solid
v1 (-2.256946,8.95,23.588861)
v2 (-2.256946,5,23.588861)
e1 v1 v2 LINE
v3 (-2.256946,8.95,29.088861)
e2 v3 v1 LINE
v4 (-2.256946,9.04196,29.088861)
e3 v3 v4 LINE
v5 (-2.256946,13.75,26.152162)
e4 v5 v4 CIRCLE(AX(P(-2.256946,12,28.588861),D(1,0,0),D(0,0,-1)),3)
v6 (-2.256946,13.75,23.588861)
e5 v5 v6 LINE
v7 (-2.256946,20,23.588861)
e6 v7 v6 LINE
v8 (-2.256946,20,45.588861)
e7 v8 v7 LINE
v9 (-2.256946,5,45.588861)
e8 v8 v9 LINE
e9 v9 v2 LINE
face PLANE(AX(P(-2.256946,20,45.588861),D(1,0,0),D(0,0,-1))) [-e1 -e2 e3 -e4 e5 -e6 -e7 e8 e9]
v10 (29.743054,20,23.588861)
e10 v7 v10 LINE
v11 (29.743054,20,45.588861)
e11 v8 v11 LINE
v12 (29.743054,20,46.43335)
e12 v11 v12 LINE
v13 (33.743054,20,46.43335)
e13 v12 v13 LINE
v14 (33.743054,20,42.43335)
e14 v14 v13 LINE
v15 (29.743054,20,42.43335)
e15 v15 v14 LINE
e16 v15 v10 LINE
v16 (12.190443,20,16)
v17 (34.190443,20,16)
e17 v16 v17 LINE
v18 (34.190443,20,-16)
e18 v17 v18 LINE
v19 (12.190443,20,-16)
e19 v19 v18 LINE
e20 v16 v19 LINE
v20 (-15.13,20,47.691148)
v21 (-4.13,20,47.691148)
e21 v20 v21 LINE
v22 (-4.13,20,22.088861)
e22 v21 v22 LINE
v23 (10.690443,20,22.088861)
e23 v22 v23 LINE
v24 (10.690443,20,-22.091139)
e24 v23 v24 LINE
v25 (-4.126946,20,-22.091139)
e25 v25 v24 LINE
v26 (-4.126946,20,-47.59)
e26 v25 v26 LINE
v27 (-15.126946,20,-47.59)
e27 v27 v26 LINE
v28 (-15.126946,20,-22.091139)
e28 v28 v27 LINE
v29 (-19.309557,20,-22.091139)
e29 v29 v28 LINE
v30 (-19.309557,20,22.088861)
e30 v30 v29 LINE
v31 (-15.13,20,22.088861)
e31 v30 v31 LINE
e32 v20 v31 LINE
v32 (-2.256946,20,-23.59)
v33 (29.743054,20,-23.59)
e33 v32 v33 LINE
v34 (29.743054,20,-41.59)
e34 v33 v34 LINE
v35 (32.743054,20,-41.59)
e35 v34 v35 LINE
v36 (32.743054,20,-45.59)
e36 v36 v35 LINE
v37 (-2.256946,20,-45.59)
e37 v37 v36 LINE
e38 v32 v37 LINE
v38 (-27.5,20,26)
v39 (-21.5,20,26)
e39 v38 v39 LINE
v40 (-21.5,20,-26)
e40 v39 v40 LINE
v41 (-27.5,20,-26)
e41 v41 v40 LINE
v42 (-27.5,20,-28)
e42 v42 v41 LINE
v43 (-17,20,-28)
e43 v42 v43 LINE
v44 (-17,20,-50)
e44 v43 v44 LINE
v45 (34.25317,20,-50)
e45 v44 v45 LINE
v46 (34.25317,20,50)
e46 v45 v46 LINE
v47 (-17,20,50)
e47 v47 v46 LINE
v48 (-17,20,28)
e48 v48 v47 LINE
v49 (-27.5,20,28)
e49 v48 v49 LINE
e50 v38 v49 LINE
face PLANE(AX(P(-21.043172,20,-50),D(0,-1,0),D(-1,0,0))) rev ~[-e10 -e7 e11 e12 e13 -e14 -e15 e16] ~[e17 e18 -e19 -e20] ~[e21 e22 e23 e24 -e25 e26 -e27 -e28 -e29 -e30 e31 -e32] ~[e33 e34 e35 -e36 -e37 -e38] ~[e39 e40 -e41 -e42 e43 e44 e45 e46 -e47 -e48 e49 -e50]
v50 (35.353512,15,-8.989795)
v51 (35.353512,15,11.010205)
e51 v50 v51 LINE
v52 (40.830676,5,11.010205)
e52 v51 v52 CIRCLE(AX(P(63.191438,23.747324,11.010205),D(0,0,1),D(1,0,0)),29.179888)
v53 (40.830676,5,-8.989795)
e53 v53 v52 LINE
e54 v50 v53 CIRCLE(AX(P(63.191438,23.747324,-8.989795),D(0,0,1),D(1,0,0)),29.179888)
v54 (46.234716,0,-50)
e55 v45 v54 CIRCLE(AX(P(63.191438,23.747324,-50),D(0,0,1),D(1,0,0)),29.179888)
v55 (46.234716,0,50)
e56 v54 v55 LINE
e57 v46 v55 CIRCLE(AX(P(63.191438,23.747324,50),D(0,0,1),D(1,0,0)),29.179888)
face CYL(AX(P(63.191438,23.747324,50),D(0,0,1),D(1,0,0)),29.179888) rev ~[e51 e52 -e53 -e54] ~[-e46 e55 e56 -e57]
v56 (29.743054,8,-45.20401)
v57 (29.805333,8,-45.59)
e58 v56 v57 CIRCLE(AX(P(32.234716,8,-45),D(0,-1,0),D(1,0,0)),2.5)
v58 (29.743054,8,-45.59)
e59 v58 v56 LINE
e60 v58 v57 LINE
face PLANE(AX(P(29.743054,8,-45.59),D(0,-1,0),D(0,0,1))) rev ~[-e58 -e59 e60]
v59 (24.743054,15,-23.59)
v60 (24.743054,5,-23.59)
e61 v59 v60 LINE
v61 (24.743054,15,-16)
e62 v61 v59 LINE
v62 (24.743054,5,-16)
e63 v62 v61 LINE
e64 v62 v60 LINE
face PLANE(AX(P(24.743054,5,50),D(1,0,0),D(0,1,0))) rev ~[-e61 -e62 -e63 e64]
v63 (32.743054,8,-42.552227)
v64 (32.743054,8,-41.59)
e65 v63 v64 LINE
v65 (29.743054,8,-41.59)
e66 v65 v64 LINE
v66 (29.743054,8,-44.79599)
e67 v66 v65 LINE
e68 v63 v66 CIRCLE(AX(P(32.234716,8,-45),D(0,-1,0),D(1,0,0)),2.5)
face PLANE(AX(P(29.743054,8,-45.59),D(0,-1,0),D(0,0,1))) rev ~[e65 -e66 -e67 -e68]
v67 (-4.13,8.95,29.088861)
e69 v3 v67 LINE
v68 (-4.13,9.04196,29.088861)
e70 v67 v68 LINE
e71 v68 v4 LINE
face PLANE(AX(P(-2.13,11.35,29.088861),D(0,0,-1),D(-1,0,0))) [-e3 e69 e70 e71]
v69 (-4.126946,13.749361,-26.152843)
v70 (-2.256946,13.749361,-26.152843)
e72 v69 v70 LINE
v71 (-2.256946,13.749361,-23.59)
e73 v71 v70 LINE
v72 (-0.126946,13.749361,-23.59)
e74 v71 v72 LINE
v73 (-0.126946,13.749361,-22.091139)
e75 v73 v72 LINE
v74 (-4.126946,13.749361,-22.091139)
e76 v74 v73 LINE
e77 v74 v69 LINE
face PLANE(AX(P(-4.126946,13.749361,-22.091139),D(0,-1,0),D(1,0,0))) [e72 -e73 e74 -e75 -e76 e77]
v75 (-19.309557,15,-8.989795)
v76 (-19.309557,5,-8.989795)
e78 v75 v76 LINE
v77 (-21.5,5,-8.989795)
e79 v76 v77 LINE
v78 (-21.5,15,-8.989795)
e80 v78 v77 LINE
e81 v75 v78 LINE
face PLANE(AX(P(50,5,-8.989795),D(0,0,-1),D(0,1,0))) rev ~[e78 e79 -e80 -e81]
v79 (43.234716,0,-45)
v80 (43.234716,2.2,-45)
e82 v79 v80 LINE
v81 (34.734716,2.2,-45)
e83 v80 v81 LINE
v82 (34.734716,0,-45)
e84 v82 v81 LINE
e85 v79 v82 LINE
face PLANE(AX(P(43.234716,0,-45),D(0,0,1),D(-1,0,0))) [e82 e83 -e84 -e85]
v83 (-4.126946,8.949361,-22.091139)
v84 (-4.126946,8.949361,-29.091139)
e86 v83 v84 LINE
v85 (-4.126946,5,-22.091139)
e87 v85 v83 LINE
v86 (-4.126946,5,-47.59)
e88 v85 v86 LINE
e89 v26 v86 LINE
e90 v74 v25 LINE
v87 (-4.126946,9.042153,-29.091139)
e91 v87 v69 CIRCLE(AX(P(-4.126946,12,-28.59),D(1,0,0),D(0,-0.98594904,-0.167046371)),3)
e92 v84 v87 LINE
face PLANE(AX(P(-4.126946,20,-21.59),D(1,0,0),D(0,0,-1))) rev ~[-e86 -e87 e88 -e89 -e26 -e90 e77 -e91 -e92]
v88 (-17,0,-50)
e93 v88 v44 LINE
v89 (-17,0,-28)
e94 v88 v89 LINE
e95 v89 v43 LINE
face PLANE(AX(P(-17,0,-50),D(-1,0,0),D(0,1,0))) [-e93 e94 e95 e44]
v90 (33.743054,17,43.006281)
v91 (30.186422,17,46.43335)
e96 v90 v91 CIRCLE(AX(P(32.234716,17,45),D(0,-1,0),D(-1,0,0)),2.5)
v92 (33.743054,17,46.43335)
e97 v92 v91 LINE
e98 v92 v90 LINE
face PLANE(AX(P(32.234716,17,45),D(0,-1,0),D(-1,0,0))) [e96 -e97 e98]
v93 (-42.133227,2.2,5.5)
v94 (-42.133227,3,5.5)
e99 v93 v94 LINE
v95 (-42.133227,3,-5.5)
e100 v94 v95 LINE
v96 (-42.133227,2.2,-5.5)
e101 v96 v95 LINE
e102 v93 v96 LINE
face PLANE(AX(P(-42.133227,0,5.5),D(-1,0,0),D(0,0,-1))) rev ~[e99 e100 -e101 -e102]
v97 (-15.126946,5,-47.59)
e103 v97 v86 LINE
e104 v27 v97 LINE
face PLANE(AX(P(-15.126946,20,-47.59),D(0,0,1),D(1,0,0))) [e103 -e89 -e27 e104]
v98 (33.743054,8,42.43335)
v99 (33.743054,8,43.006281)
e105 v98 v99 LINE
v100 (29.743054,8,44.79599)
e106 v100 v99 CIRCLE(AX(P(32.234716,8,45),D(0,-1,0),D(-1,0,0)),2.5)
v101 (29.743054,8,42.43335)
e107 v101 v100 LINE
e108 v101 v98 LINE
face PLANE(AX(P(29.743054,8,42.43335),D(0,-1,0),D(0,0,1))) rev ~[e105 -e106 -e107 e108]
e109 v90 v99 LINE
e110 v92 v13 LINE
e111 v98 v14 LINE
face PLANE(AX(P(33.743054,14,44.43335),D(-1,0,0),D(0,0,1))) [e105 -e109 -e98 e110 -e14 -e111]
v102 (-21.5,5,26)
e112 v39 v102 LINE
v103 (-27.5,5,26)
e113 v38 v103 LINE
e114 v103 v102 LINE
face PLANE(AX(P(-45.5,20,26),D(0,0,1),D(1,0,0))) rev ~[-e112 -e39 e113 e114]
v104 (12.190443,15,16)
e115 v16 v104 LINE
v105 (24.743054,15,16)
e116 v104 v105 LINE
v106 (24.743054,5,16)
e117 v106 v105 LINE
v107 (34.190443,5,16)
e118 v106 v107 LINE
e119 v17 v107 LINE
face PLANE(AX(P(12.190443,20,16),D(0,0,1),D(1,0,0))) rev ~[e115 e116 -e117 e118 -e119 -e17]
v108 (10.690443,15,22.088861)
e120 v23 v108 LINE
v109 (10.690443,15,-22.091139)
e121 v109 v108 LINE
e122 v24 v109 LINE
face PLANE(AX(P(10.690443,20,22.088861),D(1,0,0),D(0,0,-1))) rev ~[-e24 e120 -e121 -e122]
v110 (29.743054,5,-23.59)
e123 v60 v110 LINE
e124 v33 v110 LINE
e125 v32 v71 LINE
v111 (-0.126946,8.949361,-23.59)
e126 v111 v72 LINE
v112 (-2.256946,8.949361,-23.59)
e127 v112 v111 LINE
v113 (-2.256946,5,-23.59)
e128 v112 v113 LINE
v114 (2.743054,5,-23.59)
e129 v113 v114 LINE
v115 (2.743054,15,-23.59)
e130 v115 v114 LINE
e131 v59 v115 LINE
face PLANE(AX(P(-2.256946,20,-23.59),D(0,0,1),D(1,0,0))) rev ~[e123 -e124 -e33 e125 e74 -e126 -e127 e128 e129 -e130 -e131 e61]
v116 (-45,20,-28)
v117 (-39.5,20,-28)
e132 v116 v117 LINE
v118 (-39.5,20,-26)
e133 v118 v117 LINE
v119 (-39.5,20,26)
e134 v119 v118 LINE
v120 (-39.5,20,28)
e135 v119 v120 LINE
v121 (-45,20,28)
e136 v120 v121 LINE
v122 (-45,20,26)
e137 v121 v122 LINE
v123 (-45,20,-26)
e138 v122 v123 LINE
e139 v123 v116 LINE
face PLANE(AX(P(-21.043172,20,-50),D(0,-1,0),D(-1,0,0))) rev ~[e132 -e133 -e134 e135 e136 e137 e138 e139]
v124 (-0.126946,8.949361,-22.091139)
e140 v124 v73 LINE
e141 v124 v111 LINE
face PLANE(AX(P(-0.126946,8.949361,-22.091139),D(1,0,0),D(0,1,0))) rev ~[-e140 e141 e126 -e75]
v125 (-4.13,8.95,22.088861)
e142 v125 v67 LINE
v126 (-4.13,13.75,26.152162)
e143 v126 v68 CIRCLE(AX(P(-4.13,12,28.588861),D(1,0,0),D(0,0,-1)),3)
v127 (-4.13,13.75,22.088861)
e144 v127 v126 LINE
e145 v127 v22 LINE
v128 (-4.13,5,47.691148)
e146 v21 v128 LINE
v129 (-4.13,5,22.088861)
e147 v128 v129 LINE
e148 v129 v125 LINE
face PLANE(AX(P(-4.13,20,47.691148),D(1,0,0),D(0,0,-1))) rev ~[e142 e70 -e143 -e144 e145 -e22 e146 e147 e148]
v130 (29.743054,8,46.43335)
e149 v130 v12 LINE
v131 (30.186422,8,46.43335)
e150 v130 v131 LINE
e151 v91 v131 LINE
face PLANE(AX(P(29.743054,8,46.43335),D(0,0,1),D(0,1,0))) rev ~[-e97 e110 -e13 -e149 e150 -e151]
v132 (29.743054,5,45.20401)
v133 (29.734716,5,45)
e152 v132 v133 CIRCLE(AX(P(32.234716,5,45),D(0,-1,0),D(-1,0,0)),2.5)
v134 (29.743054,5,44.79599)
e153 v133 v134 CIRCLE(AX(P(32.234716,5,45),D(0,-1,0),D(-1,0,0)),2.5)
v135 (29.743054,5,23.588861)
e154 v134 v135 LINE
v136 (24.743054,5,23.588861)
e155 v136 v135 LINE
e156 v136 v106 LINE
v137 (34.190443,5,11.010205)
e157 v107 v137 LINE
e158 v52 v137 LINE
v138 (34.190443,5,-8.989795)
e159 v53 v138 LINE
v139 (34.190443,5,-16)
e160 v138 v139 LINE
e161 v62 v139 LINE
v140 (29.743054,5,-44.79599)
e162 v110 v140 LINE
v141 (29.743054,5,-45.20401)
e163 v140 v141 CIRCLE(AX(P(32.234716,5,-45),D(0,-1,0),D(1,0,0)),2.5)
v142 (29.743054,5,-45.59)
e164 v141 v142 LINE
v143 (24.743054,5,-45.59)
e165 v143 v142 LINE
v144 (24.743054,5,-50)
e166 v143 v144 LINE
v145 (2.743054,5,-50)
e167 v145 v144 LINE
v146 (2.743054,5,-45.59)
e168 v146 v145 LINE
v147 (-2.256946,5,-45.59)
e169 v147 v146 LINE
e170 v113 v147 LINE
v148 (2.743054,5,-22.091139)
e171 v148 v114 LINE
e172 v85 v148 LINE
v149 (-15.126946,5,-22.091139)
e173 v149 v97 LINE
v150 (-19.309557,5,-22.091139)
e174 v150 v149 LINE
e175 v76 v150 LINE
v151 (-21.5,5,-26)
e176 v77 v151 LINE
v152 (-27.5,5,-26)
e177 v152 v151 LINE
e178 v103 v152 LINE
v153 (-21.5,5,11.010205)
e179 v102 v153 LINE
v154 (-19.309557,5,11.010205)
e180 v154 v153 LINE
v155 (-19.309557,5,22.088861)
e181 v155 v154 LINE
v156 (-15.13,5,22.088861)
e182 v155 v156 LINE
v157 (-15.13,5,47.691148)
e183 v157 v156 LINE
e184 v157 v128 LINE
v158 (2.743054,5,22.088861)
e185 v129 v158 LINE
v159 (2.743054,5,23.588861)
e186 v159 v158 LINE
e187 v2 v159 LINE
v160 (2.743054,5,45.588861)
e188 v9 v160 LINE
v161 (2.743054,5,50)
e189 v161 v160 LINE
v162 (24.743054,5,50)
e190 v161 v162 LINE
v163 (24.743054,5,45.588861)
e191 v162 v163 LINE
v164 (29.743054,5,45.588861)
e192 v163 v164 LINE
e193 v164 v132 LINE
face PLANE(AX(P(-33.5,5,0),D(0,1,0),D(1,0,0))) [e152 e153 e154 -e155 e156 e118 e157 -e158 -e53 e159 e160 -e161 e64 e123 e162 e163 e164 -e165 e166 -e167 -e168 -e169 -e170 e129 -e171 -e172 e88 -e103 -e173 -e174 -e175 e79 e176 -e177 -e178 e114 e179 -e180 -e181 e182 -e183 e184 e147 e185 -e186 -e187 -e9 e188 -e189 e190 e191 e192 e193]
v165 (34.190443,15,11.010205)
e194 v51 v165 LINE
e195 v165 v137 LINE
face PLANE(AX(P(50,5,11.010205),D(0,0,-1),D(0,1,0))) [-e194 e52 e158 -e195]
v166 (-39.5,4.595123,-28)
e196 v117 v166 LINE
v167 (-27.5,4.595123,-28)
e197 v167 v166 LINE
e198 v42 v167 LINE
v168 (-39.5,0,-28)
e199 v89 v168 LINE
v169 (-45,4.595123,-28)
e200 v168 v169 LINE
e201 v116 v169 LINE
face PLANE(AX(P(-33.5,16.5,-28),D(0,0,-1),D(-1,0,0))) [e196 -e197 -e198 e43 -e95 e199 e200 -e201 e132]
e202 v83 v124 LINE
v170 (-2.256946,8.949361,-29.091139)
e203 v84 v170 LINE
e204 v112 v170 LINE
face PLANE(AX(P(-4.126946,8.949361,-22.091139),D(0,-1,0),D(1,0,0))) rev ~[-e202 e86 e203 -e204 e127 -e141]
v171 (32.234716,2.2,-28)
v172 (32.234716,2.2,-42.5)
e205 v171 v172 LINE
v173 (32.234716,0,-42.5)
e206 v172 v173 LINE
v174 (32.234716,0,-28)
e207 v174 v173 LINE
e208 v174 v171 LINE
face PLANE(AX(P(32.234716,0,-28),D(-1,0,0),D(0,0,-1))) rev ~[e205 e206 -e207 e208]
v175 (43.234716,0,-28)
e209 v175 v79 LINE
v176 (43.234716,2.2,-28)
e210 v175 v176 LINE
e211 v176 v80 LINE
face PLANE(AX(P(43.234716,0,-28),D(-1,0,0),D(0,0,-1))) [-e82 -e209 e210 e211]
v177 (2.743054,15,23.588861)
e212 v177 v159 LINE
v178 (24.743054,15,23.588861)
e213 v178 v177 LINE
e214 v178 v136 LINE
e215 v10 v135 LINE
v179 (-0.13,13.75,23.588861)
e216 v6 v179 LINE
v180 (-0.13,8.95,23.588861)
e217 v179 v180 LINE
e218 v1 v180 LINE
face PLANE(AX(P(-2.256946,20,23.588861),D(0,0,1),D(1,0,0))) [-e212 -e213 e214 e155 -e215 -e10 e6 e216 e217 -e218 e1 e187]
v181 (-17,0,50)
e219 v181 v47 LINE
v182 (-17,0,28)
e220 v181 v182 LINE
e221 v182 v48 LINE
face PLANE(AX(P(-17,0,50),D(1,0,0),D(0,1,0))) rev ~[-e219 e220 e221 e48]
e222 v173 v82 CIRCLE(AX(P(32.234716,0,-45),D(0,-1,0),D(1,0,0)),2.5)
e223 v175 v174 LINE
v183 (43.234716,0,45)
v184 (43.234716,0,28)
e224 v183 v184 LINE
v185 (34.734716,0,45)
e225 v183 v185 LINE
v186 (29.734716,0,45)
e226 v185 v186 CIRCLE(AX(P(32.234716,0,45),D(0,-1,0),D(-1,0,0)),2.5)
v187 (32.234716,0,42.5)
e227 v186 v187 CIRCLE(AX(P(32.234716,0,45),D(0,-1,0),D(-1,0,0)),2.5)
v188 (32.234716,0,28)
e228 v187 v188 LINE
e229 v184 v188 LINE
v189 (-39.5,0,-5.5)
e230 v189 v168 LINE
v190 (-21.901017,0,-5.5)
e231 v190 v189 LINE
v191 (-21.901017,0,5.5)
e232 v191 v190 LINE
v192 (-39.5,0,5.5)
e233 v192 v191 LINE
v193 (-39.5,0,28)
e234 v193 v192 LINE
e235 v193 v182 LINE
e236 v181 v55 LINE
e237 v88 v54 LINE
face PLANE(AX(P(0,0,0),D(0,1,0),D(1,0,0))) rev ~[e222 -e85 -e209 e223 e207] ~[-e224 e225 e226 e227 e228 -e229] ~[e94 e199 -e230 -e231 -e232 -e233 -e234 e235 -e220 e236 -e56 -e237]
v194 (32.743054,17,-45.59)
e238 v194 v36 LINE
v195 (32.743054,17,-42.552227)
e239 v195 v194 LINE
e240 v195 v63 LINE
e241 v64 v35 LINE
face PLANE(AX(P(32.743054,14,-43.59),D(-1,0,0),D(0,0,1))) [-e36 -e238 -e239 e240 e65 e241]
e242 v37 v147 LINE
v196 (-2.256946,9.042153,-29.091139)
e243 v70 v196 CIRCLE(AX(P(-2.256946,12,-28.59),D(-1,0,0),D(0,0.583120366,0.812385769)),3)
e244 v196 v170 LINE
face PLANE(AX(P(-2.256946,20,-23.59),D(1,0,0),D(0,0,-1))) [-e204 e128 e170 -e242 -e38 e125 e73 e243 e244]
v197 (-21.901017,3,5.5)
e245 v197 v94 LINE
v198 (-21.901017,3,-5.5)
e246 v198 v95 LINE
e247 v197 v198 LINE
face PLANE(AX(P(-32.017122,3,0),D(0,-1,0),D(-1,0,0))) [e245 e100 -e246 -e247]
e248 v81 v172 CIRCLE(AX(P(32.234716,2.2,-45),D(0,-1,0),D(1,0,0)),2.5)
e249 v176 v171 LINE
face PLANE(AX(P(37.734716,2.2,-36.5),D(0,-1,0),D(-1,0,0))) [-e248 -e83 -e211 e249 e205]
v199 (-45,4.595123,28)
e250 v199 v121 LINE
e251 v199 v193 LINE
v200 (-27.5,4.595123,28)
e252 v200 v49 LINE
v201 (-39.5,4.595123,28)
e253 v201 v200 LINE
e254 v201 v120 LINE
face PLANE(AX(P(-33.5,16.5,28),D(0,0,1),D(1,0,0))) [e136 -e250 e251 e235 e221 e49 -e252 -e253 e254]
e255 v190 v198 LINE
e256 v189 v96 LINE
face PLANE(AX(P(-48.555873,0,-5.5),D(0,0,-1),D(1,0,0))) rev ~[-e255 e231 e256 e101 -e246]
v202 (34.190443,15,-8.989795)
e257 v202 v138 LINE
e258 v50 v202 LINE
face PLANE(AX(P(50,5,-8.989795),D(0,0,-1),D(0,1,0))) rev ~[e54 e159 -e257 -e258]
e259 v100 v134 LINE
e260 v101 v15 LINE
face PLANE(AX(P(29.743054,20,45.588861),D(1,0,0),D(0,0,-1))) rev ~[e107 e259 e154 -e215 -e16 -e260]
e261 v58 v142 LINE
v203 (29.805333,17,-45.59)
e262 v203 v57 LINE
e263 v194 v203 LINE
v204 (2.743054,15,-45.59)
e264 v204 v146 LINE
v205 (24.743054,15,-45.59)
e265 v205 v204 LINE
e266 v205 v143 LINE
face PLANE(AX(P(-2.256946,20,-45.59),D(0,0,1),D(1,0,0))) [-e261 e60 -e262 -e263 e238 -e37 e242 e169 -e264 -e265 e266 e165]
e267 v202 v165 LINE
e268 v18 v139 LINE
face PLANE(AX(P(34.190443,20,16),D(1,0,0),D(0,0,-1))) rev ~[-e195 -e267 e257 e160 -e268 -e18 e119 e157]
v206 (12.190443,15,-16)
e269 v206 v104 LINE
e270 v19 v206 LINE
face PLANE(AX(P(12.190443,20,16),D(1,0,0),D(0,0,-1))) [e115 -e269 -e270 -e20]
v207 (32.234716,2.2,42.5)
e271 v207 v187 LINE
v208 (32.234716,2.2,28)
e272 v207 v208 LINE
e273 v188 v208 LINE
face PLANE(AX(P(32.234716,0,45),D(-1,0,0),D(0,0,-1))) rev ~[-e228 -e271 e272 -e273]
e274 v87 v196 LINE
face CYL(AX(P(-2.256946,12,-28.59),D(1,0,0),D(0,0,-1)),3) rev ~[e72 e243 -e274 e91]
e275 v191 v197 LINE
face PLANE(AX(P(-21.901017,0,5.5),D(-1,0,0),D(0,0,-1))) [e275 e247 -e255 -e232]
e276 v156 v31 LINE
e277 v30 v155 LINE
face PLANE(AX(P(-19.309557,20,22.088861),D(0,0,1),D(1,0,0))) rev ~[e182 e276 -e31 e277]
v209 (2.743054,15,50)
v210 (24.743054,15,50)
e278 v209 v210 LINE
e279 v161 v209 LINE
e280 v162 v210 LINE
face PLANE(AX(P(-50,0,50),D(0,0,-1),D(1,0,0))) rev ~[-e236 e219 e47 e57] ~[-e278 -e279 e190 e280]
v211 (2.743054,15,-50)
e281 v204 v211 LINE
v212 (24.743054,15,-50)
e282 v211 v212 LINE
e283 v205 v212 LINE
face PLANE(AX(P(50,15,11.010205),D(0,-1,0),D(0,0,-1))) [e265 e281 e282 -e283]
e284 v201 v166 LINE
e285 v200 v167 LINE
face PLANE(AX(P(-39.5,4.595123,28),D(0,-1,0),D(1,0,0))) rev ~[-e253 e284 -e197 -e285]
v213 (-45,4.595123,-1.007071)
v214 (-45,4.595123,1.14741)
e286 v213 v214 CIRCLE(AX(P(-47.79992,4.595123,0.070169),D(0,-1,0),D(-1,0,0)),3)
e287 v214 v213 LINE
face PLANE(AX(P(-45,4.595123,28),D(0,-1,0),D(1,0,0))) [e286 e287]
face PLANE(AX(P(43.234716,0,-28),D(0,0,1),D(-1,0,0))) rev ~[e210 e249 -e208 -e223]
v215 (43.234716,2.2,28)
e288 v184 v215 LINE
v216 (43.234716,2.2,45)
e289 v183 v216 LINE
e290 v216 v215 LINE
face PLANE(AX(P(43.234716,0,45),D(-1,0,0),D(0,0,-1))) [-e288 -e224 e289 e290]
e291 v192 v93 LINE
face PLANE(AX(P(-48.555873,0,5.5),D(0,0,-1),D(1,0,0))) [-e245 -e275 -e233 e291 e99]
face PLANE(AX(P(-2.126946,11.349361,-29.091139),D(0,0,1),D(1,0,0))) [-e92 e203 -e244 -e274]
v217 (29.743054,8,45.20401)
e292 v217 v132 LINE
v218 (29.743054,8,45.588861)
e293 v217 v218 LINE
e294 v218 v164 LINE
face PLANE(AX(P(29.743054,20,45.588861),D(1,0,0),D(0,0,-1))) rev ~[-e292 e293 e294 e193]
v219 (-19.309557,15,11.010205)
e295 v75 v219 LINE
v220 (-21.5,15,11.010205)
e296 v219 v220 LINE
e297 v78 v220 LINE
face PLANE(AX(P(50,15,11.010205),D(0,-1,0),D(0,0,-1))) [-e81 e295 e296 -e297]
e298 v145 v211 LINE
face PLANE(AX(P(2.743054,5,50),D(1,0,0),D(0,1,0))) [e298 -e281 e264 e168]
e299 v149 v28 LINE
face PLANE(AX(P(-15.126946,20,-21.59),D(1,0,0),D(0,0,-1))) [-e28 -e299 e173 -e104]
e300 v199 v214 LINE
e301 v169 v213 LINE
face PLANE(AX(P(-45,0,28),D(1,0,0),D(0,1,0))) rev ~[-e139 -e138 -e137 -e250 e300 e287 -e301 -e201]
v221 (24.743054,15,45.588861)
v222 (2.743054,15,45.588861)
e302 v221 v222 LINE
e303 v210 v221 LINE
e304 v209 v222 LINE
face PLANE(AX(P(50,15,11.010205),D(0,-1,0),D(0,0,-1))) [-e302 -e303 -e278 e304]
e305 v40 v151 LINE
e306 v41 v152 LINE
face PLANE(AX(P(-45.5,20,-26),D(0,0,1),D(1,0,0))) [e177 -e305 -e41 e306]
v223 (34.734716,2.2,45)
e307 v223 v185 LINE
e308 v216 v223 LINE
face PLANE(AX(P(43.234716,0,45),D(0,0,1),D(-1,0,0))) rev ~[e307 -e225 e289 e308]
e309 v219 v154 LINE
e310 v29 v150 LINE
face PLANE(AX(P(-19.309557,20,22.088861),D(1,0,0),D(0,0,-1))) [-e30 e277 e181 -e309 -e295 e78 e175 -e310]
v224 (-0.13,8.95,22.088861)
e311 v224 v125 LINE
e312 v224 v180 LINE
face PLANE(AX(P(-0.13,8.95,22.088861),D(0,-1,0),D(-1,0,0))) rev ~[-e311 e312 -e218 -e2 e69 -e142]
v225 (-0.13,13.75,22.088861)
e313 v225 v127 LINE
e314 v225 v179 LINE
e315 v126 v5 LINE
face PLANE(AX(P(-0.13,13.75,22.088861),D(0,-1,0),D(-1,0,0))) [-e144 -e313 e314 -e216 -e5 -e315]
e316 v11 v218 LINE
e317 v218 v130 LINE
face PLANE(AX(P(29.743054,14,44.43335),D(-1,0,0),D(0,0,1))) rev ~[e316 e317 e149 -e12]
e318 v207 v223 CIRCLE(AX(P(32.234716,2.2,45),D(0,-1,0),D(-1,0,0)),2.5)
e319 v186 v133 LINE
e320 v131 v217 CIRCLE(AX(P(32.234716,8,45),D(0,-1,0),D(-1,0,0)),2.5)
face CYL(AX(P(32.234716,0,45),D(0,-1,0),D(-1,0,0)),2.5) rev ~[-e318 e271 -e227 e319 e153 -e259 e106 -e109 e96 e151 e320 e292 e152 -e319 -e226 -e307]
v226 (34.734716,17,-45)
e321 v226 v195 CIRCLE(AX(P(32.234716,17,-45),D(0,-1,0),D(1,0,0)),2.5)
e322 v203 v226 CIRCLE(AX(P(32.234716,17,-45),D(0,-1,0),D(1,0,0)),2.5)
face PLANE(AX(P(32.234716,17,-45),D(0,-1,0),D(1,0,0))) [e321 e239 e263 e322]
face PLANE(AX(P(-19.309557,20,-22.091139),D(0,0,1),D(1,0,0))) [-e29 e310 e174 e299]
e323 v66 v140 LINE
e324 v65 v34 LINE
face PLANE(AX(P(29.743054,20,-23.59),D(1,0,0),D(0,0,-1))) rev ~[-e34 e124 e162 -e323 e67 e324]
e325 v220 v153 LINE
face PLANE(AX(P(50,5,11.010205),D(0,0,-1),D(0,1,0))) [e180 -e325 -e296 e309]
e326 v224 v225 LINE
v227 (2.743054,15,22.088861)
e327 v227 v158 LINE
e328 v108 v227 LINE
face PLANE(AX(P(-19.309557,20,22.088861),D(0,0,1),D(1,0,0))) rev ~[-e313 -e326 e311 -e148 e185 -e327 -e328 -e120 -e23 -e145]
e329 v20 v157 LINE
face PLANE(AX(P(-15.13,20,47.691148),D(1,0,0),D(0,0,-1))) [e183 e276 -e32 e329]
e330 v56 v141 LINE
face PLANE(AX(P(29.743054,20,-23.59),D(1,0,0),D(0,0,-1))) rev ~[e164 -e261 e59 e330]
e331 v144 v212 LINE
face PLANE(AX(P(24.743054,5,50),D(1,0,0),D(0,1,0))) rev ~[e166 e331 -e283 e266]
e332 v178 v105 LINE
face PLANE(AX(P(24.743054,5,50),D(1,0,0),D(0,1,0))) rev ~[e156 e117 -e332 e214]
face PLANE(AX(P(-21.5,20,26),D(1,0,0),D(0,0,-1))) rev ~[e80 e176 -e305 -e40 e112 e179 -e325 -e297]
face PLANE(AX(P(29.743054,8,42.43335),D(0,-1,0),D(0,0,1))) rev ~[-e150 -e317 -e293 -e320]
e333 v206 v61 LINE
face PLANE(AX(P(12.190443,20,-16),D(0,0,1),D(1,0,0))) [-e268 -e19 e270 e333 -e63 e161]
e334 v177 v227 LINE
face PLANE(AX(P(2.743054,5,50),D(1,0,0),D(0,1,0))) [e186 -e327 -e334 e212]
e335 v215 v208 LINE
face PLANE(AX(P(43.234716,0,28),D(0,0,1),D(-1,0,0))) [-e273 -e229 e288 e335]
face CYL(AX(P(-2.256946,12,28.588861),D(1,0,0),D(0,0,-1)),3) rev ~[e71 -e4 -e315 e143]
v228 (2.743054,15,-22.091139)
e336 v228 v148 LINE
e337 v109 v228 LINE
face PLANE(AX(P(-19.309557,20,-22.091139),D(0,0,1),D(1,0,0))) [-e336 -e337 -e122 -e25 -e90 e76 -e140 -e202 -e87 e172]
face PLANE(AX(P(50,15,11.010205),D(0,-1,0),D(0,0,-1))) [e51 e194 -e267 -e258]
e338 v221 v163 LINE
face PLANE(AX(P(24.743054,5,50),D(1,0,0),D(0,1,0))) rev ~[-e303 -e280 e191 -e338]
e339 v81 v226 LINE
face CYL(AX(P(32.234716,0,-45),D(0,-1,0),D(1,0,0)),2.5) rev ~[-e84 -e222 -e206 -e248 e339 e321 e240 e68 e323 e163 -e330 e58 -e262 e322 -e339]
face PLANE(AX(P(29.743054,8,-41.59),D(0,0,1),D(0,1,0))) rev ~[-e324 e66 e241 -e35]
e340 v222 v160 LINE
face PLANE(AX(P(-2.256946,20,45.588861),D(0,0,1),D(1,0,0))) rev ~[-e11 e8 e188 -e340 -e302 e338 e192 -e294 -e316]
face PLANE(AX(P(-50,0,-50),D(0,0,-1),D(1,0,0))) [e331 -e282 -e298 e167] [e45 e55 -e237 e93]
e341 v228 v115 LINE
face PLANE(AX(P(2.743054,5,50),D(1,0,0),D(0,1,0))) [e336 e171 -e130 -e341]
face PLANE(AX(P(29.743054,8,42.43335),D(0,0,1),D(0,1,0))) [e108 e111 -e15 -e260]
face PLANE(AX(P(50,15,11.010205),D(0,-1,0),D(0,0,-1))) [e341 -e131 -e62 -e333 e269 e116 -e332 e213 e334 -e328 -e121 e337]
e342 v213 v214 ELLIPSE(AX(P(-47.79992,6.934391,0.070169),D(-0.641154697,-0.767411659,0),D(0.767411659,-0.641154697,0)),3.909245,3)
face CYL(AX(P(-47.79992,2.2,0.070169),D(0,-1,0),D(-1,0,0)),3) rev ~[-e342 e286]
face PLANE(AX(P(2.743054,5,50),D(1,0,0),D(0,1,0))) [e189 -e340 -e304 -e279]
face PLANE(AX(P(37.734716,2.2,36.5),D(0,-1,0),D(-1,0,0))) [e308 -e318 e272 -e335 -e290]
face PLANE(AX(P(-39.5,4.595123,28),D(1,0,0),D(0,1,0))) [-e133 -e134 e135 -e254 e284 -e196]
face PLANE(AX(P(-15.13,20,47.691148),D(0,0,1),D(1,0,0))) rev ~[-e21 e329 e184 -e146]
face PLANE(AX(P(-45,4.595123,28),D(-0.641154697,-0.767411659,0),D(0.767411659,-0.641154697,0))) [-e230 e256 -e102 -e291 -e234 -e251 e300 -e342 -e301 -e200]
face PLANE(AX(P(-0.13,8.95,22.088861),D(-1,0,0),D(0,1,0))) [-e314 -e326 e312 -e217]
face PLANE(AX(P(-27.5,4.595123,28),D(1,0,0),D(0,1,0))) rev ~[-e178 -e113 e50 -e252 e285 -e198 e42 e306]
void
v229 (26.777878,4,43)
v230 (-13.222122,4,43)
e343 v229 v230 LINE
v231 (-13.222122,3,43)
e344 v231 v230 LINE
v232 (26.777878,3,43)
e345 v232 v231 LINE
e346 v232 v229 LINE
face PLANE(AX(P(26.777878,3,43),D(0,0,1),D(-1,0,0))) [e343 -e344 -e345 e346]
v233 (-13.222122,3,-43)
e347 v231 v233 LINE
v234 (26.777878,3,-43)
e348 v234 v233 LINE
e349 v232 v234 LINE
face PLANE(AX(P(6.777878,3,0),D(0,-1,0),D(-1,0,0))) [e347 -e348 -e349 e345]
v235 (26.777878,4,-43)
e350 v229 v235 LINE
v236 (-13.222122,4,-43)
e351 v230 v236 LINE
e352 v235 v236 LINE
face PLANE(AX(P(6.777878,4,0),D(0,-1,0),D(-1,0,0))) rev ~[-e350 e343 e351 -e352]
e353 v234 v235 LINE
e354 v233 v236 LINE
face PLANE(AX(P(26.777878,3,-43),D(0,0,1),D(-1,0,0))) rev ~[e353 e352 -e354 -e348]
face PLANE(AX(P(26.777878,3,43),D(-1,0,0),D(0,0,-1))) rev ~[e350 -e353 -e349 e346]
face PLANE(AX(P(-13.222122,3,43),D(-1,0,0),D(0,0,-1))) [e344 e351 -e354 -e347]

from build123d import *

# Parameters (mm, degrees)
SKETCH1_W           = 100
SKETCH1_H           = 100
BOSS_EXTRUDE2_DEPTH = 40
SKETCH3_W           = 20
SKETCH3_H           = 10
CUT_EXTRUDE3_DEPTH  = 100
SKETCH4_R           = 29.179887526
CUT_EXTRUDE5_DEPTH  = 100
SKETCH5_W           = 60
SKETCH5_H           = 20
CUT_EXTRUDE6_DEPTH  = 100
SKETCH6_W           = 22
SKETCH6_H           = 32
CUT_EXTRUDE7_DEPTH  = 15
SKETCH7_W           = 22
SKETCH7_H           = 10
CUT_EXTRUDE9_DEPTH  = 100
SKETCH9_W           = 32
SKETCH9_H           = 22
CUT_EXTRUDE10_DEPTH = 15
SKETCH10_W          = 32
SKETCH10_H          = 22
CUT_EXTRUDE11_DEPTH = 15
SKETCH11_W          = 33
SKETCH11_H          = 33
CUT_EXTRUDE13_DEPTH = 22
SKETCH12_W          = 33
SKETCH12_H          = 33
CUT_EXTRUDE14_DEPTH = 22
SKETCH13_W          = 30
SKETCH13_H          = 20
CUT_EXTRUDE15_DEPTH = 100
SKETCH14_W          = 12
SKETCH14_H          = 16
CUT_EXTRUDE17_DEPTH = 80
SKETCH15_W          = 24
SKETCH15_H          = 52
CUT_EXTRUDE18_DEPTH = 15
SKETCH16_W          = 30
SKETCH16_H          = 44.18
CUT_EXTRUDE19_DEPTH = 15
SKETCH17_W          = 11
SKETCH17_H          = 26
CUT_EXTRUDE20_DEPTH = 15
SKETCH18_W          = 11
SKETCH18_H          = 26
CUT_EXTRUDE22_DEPTH = 15
SKETCH19_W          = 11
SKETCH19_H          = 17
CUT_EXTRUDE26_DEPTH = 2.2
SKETCH20_R          = 2.5
CUT_EXTRUDE32_DEPTH = 17
SKETCH21_W          = 4
SKETCH21_H          = 12
CUT_EXTRUDE33_DEPTH = 4
SKETCH23_W          = 11
SKETCH23_H          = 17
CUT_EXTRUDE34_DEPTH = 2.2
SKETCH24_R          = 2.5
CUT_EXTRUDE35_DEPTH = 17
SKETCH25_W          = 4
SKETCH25_H          = 12
CUT_EXTRUDE36_DEPTH = 3
SKETCH26_R          = 3
CUT_EXTRUDE37_DEPTH = 3
SKETCH27_R          = 3
CUT_EXTRUDE38_DEPTH = 3
SKETCH28_W          = 17
SKETCH28_H          = 11
CUT_EXTRUDE39_DEPTH = 2.2
SKETCH29_R          = 3
CUT_EXTRUDE40_DEPTH = 4
SKETCH30_W          = 4
SKETCH30_H          = 4.8
CUT_EXTRUDE43_DEPTH = 7
SKETCH31_W          = 4
SKETCH31_H          = 4.8
CUT_EXTRUDE44_DEPTH = 7
CUT_EXTRUDE45_DEPTH = 100
SKETCH34_W          = 5
SKETCH34_H          = 20
CUT_EXTRUDE46_DEPTH = 100
CUT_EXTRUDE47_DEPTH = 100
SKETCH36_W          = 5.5
SKETCH36_H          = 15.404877169
BOSS_EXTRUDE3_DEPTH = 55
SKETCH37_W          = 20.232210009
SKETCH37_H          = 11
CUT_EXTRUDE48_DEPTH = 3
SKETCH38_W          = 40
SKETCH38_H          = 86
CUT_EXTRUDE53_DEPTH = 1


with BuildPart() as part:
    # Sketch1 → Boss-Extrude2 (new body)
    with BuildSketch(Plane(origin=(0, 0, 0), x_dir=(1, 0, 0), z_dir=(0, 1, 0))):
        Rectangle(SKETCH1_W, SKETCH1_H)
    extrude(amount=BOSS_EXTRUDE2_DEPTH)

    # Sketch3 → Cut-Extrude3 (cut)
    with BuildSketch(Plane(origin=(50, 0, 0), x_dir=(0, 0, -1), z_dir=(1, 0, 0))):
        with Locations((-1.010205144, 10)):
            Rectangle(SKETCH3_W, SKETCH3_H)
    extrude(amount=-CUT_EXTRUDE3_DEPTH, mode=Mode.SUBTRACT)

    # Sketch4 → Cut-Extrude5 (cut)
    with BuildSketch(Plane.XY.offset(50)):
        with Locations((63.191438408, 23.747323898)):
            Circle(SKETCH4_R)
    extrude(amount=-CUT_EXTRUDE5_DEPTH, mode=Mode.SUBTRACT)

    # Sketch5 → Cut-Extrude6 (cut)
    with BuildSketch(Plane.XY.offset(50)):
        with Locations((8.956827713, 30)):
            Rectangle(SKETCH5_W, SKETCH5_H)
    extrude(amount=-CUT_EXTRUDE6_DEPTH, mode=Mode.SUBTRACT)

    # Sketch6 → Cut-Extrude7 (cut)
    with BuildSketch(Plane(origin=(0, 20, 0), x_dir=(1, 0, 0), z_dir=(0, 1, 0))):
        with Locations((23.190442589, 0)):
            Rectangle(SKETCH6_W, SKETCH6_H)
    extrude(amount=-CUT_EXTRUDE7_DEPTH, mode=Mode.SUBTRACT)

    # Sketch7 → Cut-Extrude9 (cut)
    with BuildSketch(Plane.XY.offset(50)):
        with Locations((13.743053617, 10)):
            Rectangle(SKETCH7_W, SKETCH7_H)
    extrude(amount=-CUT_EXTRUDE9_DEPTH, mode=Mode.SUBTRACT)

    # Sketch9 → Cut-Extrude10 (cut)
    with BuildSketch(Plane(origin=(0, 20, 0), x_dir=(1, 0, 0), z_dir=(0, 1, 0))):
        with Locations((13.743053617, -34.588860887)):
            Rectangle(SKETCH9_W, SKETCH9_H)
    extrude(amount=-CUT_EXTRUDE10_DEPTH, mode=Mode.SUBTRACT)

    # Sketch10 → Cut-Extrude11 (cut)
    with BuildSketch(Plane(origin=(0, 20, 0), x_dir=(1, 0, 0), z_dir=(0, 1, 0))):
        with Locations((13.743053617, 34.59)):
            Rectangle(SKETCH10_W, SKETCH10_H)
    extrude(amount=-CUT_EXTRUDE11_DEPTH, mode=Mode.SUBTRACT)

    # Sketch11 → Cut-Extrude13 (cut)
    with BuildSketch(Plane.XY.offset(50)):
        with Locations((-33.5, 16.5)):
            Rectangle(SKETCH11_W, SKETCH11_H)
    extrude(amount=-CUT_EXTRUDE13_DEPTH, mode=Mode.SUBTRACT)

    # Sketch12 → Cut-Extrude14 (cut)
    with BuildSketch(Plane(origin=(0, 0, -50), x_dir=(-1, 0, 0), z_dir=(0, 0, -1))):
        with Locations((33.5, 16.5)):
            Rectangle(SKETCH12_W, SKETCH12_H)
    extrude(amount=-CUT_EXTRUDE14_DEPTH, mode=Mode.SUBTRACT)

    # Sketch13 → Cut-Extrude15 (cut)
    with BuildSketch(Plane(origin=(0, 0, -50), x_dir=(-1, 0, 0), z_dir=(0, 0, -1))):
        with Locations((36.043172287, 30)):
            Rectangle(SKETCH13_W, SKETCH13_H)
    extrude(amount=-CUT_EXTRUDE15_DEPTH, mode=Mode.SUBTRACT)

    # Sketch14 → Cut-Extrude17 (cut)
    with BuildSketch(Plane.XY.offset(28)):
        with Locations((-33.5, 12.595122831)):
            Rectangle(SKETCH14_W, SKETCH14_H)
    extrude(amount=-CUT_EXTRUDE17_DEPTH, mode=Mode.SUBTRACT)

    # Sketch15 → Cut-Extrude18 (cut)
    with BuildSketch(Plane(origin=(0, 20, 0), x_dir=(1, 0, 0), z_dir=(0, 1, 0))):
        with Locations((-33.5, 0)):
            Rectangle(SKETCH15_W, SKETCH15_H)
    extrude(amount=-CUT_EXTRUDE18_DEPTH, mode=Mode.SUBTRACT)

    # Sketch16 → Cut-Extrude19 (cut)
    with BuildSketch(Plane(origin=(0, 20, 0), x_dir=(1, 0, 0), z_dir=(0, 1, 0))):
        with Locations((-4.309557411, 0.001139113)):
            Rectangle(SKETCH16_W, SKETCH16_H)
    extrude(amount=-CUT_EXTRUDE19_DEPTH, mode=Mode.SUBTRACT)

    # Sketch17 → Cut-Extrude20 (cut)
    with BuildSketch(Plane(origin=(0, 20, 0), x_dir=(1, 0, 0), z_dir=(0, 1, 0))):
        with Locations((-9.626946383, 34.59)):
            Rectangle(SKETCH17_W, SKETCH17_H)
    extrude(amount=-CUT_EXTRUDE20_DEPTH, mode=Mode.SUBTRACT)

    # Sketch18 → Cut-Extrude22 (cut)
    with BuildSketch(Plane(origin=(0, 20, 0), x_dir=(1, 0, 0), z_dir=(0, 1, 0))):
        with Locations((-9.63, -34.691148393)):
            Rectangle(SKETCH18_W, SKETCH18_H)
    extrude(amount=-CUT_EXTRUDE22_DEPTH, mode=Mode.SUBTRACT)

    # Sketch19 → Cut-Extrude26 (cut)
    with BuildSketch(Plane(origin=(0, 0, 0), x_dir=(-1, 0, 0), z_dir=(0, -1, 0))):
        with Locations((-37.734715737, -36.5)):
            Rectangle(SKETCH19_W, SKETCH19_H)
    extrude(amount=-CUT_EXTRUDE26_DEPTH, mode=Mode.SUBTRACT)

    # Sketch20 → Cut-Extrude32 (cut)
    with BuildSketch(Plane(origin=(0, 0, 0), x_dir=(-1, 0, 0), z_dir=(0, -1, 0))):
        with Locations((-32.234715737, -45)):
            Circle(SKETCH20_R)
    extrude(amount=-CUT_EXTRUDE32_DEPTH, mode=Mode.SUBTRACT)

    # Sketch21 → Cut-Extrude33 (cut)
    with BuildSketch(Plane.ZY.offset(-29.743053617)):
        with Locations((44.433350435, 14)):
            Rectangle(SKETCH21_W, SKETCH21_H)
    extrude(amount=-CUT_EXTRUDE33_DEPTH, mode=Mode.SUBTRACT)

    # Sketch23 → Cut-Extrude34 (cut)
    with BuildSketch(Plane(origin=(0, 0, 0), x_dir=(-1, 0, 0), z_dir=(0, -1, 0))):
        with Locations((-37.734715737, 36.5)):
            Rectangle(SKETCH23_W, SKETCH23_H)
    extrude(amount=-CUT_EXTRUDE34_DEPTH, mode=Mode.SUBTRACT)

    # Sketch24 → Cut-Extrude35 (cut)
    with BuildSketch(Plane.XZ):
        with Locations((32.234715737, -45)):
            Circle(SKETCH24_R)
    extrude(amount=-CUT_EXTRUDE35_DEPTH, mode=Mode.SUBTRACT)

    # Sketch25 → Cut-Extrude36 (cut)
    with BuildSketch(Plane.ZY.offset(-29.743053617)):
        with Locations((-43.59, 14)):
            Rectangle(SKETCH25_W, SKETCH25_H)
    extrude(amount=-CUT_EXTRUDE36_DEPTH, mode=Mode.SUBTRACT)

    # Sketch26 → Cut-Extrude37 (cut)
    with BuildSketch(Plane(origin=(-2.256946383, 0, 0), x_dir=(0, 0, -1), z_dir=(1, 0, 0))):
        with Locations((-28.588860887, 12)):
            Circle(SKETCH26_R)
    extrude(amount=-CUT_EXTRUDE37_DEPTH, mode=Mode.SUBTRACT)

    # Sketch27 → Cut-Extrude38 (cut)
    with BuildSketch(Plane(origin=(-2.256946383, 0, 0), x_dir=(0, 0, -1), z_dir=(1, 0, 0))):
        with Locations((28.59, 12)):
            Circle(SKETCH27_R)
    extrude(amount=-CUT_EXTRUDE38_DEPTH, mode=Mode.SUBTRACT)

    # Sketch28 → Cut-Extrude39 (cut)
    with BuildSketch(Plane.XZ):
        with Locations((-40.055873336, 0)):
            Rectangle(SKETCH28_W, SKETCH28_H)
    extrude(amount=-CUT_EXTRUDE39_DEPTH, mode=Mode.SUBTRACT)

    # Sketch29 → Cut-Extrude40 (cut)
    with BuildSketch(Plane(origin=(0, 2.2, 0), x_dir=(-1, 0, 0), z_dir=(0, -1, 0))):
        with Locations((47.799920192, -0.070169229)):
            Circle(SKETCH29_R)
    extrude(amount=-CUT_EXTRUDE40_DEPTH, mode=Mode.SUBTRACT)

    # Sketch30 → Cut-Extrude43 (cut)
    with BuildSketch(Plane.XY.offset(-22.091139113)):
        with Locations((-2.126946383, 11.349361099)):
            Rectangle(SKETCH30_W, SKETCH30_H)
    extrude(amount=-CUT_EXTRUDE43_DEPTH, mode=Mode.SUBTRACT)

    # Sketch31 → Cut-Extrude44 (cut)
    with BuildSketch(Plane(origin=(0, 0, 22.088860887), x_dir=(-1, 0, 0), z_dir=(0, 0, -1))):
        with Locations((2.13, 11.35)):
            Rectangle(SKETCH31_W, SKETCH31_H)
    extrude(amount=-CUT_EXTRUDE44_DEPTH, mode=Mode.SUBTRACT)

    # Sketch33 → Cut-Extrude45 (cut)
    with BuildSketch(Plane(origin=(0, 0, -28), x_dir=(-1, 0, 0), z_dir=(0, 0, -1))):
        Polygon((45, 0), (50, 5), (50, 0), align=None)
    extrude(amount=-CUT_EXTRUDE45_DEPTH, mode=Mode.SUBTRACT)

    # Sketch34 → Cut-Extrude46 (cut)
    with BuildSketch(Plane.XY.offset(28)):
        with Locations((-47.5, 10)):
            Rectangle(SKETCH34_W, SKETCH34_H)
    extrude(amount=-CUT_EXTRUDE46_DEPTH, mode=Mode.SUBTRACT)

    # Sketch35 → Cut-Extrude47 (cut)
    with BuildSketch(Plane.XY.offset(28)):
        Polygon((-45, 4.595122831), (-39.5, 0), (-45, 0), align=None)
    extrude(amount=-CUT_EXTRUDE47_DEPTH, mode=Mode.SUBTRACT)

    # Sketch36 → Boss-Extrude3 (add)
    with BuildSketch(Plane.XY.offset(28)):
        with Locations((-42.25, 12.297561416)):
            Rectangle(SKETCH36_W, SKETCH36_H)
    extrude(amount=-BOSS_EXTRUDE3_DEPTH)

    # Sketch37 → Cut-Extrude48 (cut)
    with BuildSketch(Plane(origin=(0, 0, 0), x_dir=(-1, 0, 0), z_dir=(0, -1, 0))):
        with Locations((32.017121667, 0)):
            Rectangle(SKETCH37_W, SKETCH37_H)
    extrude(amount=-CUT_EXTRUDE48_DEPTH, mode=Mode.SUBTRACT)

    # Sketch38 → Cut-Extrude53 (cut)
    with BuildSketch(Plane(origin=(0, 3, 0), x_dir=(-1, 0, 0), z_dir=(0, -1, 0))):
        with Locations((-6.777878387, 0)):
            Rectangle(SKETCH38_W, SKETCH38_H)
    extrude(amount=-CUT_EXTRUDE53_DEPTH, mode=Mode.SUBTRACT)


solid = part.part
